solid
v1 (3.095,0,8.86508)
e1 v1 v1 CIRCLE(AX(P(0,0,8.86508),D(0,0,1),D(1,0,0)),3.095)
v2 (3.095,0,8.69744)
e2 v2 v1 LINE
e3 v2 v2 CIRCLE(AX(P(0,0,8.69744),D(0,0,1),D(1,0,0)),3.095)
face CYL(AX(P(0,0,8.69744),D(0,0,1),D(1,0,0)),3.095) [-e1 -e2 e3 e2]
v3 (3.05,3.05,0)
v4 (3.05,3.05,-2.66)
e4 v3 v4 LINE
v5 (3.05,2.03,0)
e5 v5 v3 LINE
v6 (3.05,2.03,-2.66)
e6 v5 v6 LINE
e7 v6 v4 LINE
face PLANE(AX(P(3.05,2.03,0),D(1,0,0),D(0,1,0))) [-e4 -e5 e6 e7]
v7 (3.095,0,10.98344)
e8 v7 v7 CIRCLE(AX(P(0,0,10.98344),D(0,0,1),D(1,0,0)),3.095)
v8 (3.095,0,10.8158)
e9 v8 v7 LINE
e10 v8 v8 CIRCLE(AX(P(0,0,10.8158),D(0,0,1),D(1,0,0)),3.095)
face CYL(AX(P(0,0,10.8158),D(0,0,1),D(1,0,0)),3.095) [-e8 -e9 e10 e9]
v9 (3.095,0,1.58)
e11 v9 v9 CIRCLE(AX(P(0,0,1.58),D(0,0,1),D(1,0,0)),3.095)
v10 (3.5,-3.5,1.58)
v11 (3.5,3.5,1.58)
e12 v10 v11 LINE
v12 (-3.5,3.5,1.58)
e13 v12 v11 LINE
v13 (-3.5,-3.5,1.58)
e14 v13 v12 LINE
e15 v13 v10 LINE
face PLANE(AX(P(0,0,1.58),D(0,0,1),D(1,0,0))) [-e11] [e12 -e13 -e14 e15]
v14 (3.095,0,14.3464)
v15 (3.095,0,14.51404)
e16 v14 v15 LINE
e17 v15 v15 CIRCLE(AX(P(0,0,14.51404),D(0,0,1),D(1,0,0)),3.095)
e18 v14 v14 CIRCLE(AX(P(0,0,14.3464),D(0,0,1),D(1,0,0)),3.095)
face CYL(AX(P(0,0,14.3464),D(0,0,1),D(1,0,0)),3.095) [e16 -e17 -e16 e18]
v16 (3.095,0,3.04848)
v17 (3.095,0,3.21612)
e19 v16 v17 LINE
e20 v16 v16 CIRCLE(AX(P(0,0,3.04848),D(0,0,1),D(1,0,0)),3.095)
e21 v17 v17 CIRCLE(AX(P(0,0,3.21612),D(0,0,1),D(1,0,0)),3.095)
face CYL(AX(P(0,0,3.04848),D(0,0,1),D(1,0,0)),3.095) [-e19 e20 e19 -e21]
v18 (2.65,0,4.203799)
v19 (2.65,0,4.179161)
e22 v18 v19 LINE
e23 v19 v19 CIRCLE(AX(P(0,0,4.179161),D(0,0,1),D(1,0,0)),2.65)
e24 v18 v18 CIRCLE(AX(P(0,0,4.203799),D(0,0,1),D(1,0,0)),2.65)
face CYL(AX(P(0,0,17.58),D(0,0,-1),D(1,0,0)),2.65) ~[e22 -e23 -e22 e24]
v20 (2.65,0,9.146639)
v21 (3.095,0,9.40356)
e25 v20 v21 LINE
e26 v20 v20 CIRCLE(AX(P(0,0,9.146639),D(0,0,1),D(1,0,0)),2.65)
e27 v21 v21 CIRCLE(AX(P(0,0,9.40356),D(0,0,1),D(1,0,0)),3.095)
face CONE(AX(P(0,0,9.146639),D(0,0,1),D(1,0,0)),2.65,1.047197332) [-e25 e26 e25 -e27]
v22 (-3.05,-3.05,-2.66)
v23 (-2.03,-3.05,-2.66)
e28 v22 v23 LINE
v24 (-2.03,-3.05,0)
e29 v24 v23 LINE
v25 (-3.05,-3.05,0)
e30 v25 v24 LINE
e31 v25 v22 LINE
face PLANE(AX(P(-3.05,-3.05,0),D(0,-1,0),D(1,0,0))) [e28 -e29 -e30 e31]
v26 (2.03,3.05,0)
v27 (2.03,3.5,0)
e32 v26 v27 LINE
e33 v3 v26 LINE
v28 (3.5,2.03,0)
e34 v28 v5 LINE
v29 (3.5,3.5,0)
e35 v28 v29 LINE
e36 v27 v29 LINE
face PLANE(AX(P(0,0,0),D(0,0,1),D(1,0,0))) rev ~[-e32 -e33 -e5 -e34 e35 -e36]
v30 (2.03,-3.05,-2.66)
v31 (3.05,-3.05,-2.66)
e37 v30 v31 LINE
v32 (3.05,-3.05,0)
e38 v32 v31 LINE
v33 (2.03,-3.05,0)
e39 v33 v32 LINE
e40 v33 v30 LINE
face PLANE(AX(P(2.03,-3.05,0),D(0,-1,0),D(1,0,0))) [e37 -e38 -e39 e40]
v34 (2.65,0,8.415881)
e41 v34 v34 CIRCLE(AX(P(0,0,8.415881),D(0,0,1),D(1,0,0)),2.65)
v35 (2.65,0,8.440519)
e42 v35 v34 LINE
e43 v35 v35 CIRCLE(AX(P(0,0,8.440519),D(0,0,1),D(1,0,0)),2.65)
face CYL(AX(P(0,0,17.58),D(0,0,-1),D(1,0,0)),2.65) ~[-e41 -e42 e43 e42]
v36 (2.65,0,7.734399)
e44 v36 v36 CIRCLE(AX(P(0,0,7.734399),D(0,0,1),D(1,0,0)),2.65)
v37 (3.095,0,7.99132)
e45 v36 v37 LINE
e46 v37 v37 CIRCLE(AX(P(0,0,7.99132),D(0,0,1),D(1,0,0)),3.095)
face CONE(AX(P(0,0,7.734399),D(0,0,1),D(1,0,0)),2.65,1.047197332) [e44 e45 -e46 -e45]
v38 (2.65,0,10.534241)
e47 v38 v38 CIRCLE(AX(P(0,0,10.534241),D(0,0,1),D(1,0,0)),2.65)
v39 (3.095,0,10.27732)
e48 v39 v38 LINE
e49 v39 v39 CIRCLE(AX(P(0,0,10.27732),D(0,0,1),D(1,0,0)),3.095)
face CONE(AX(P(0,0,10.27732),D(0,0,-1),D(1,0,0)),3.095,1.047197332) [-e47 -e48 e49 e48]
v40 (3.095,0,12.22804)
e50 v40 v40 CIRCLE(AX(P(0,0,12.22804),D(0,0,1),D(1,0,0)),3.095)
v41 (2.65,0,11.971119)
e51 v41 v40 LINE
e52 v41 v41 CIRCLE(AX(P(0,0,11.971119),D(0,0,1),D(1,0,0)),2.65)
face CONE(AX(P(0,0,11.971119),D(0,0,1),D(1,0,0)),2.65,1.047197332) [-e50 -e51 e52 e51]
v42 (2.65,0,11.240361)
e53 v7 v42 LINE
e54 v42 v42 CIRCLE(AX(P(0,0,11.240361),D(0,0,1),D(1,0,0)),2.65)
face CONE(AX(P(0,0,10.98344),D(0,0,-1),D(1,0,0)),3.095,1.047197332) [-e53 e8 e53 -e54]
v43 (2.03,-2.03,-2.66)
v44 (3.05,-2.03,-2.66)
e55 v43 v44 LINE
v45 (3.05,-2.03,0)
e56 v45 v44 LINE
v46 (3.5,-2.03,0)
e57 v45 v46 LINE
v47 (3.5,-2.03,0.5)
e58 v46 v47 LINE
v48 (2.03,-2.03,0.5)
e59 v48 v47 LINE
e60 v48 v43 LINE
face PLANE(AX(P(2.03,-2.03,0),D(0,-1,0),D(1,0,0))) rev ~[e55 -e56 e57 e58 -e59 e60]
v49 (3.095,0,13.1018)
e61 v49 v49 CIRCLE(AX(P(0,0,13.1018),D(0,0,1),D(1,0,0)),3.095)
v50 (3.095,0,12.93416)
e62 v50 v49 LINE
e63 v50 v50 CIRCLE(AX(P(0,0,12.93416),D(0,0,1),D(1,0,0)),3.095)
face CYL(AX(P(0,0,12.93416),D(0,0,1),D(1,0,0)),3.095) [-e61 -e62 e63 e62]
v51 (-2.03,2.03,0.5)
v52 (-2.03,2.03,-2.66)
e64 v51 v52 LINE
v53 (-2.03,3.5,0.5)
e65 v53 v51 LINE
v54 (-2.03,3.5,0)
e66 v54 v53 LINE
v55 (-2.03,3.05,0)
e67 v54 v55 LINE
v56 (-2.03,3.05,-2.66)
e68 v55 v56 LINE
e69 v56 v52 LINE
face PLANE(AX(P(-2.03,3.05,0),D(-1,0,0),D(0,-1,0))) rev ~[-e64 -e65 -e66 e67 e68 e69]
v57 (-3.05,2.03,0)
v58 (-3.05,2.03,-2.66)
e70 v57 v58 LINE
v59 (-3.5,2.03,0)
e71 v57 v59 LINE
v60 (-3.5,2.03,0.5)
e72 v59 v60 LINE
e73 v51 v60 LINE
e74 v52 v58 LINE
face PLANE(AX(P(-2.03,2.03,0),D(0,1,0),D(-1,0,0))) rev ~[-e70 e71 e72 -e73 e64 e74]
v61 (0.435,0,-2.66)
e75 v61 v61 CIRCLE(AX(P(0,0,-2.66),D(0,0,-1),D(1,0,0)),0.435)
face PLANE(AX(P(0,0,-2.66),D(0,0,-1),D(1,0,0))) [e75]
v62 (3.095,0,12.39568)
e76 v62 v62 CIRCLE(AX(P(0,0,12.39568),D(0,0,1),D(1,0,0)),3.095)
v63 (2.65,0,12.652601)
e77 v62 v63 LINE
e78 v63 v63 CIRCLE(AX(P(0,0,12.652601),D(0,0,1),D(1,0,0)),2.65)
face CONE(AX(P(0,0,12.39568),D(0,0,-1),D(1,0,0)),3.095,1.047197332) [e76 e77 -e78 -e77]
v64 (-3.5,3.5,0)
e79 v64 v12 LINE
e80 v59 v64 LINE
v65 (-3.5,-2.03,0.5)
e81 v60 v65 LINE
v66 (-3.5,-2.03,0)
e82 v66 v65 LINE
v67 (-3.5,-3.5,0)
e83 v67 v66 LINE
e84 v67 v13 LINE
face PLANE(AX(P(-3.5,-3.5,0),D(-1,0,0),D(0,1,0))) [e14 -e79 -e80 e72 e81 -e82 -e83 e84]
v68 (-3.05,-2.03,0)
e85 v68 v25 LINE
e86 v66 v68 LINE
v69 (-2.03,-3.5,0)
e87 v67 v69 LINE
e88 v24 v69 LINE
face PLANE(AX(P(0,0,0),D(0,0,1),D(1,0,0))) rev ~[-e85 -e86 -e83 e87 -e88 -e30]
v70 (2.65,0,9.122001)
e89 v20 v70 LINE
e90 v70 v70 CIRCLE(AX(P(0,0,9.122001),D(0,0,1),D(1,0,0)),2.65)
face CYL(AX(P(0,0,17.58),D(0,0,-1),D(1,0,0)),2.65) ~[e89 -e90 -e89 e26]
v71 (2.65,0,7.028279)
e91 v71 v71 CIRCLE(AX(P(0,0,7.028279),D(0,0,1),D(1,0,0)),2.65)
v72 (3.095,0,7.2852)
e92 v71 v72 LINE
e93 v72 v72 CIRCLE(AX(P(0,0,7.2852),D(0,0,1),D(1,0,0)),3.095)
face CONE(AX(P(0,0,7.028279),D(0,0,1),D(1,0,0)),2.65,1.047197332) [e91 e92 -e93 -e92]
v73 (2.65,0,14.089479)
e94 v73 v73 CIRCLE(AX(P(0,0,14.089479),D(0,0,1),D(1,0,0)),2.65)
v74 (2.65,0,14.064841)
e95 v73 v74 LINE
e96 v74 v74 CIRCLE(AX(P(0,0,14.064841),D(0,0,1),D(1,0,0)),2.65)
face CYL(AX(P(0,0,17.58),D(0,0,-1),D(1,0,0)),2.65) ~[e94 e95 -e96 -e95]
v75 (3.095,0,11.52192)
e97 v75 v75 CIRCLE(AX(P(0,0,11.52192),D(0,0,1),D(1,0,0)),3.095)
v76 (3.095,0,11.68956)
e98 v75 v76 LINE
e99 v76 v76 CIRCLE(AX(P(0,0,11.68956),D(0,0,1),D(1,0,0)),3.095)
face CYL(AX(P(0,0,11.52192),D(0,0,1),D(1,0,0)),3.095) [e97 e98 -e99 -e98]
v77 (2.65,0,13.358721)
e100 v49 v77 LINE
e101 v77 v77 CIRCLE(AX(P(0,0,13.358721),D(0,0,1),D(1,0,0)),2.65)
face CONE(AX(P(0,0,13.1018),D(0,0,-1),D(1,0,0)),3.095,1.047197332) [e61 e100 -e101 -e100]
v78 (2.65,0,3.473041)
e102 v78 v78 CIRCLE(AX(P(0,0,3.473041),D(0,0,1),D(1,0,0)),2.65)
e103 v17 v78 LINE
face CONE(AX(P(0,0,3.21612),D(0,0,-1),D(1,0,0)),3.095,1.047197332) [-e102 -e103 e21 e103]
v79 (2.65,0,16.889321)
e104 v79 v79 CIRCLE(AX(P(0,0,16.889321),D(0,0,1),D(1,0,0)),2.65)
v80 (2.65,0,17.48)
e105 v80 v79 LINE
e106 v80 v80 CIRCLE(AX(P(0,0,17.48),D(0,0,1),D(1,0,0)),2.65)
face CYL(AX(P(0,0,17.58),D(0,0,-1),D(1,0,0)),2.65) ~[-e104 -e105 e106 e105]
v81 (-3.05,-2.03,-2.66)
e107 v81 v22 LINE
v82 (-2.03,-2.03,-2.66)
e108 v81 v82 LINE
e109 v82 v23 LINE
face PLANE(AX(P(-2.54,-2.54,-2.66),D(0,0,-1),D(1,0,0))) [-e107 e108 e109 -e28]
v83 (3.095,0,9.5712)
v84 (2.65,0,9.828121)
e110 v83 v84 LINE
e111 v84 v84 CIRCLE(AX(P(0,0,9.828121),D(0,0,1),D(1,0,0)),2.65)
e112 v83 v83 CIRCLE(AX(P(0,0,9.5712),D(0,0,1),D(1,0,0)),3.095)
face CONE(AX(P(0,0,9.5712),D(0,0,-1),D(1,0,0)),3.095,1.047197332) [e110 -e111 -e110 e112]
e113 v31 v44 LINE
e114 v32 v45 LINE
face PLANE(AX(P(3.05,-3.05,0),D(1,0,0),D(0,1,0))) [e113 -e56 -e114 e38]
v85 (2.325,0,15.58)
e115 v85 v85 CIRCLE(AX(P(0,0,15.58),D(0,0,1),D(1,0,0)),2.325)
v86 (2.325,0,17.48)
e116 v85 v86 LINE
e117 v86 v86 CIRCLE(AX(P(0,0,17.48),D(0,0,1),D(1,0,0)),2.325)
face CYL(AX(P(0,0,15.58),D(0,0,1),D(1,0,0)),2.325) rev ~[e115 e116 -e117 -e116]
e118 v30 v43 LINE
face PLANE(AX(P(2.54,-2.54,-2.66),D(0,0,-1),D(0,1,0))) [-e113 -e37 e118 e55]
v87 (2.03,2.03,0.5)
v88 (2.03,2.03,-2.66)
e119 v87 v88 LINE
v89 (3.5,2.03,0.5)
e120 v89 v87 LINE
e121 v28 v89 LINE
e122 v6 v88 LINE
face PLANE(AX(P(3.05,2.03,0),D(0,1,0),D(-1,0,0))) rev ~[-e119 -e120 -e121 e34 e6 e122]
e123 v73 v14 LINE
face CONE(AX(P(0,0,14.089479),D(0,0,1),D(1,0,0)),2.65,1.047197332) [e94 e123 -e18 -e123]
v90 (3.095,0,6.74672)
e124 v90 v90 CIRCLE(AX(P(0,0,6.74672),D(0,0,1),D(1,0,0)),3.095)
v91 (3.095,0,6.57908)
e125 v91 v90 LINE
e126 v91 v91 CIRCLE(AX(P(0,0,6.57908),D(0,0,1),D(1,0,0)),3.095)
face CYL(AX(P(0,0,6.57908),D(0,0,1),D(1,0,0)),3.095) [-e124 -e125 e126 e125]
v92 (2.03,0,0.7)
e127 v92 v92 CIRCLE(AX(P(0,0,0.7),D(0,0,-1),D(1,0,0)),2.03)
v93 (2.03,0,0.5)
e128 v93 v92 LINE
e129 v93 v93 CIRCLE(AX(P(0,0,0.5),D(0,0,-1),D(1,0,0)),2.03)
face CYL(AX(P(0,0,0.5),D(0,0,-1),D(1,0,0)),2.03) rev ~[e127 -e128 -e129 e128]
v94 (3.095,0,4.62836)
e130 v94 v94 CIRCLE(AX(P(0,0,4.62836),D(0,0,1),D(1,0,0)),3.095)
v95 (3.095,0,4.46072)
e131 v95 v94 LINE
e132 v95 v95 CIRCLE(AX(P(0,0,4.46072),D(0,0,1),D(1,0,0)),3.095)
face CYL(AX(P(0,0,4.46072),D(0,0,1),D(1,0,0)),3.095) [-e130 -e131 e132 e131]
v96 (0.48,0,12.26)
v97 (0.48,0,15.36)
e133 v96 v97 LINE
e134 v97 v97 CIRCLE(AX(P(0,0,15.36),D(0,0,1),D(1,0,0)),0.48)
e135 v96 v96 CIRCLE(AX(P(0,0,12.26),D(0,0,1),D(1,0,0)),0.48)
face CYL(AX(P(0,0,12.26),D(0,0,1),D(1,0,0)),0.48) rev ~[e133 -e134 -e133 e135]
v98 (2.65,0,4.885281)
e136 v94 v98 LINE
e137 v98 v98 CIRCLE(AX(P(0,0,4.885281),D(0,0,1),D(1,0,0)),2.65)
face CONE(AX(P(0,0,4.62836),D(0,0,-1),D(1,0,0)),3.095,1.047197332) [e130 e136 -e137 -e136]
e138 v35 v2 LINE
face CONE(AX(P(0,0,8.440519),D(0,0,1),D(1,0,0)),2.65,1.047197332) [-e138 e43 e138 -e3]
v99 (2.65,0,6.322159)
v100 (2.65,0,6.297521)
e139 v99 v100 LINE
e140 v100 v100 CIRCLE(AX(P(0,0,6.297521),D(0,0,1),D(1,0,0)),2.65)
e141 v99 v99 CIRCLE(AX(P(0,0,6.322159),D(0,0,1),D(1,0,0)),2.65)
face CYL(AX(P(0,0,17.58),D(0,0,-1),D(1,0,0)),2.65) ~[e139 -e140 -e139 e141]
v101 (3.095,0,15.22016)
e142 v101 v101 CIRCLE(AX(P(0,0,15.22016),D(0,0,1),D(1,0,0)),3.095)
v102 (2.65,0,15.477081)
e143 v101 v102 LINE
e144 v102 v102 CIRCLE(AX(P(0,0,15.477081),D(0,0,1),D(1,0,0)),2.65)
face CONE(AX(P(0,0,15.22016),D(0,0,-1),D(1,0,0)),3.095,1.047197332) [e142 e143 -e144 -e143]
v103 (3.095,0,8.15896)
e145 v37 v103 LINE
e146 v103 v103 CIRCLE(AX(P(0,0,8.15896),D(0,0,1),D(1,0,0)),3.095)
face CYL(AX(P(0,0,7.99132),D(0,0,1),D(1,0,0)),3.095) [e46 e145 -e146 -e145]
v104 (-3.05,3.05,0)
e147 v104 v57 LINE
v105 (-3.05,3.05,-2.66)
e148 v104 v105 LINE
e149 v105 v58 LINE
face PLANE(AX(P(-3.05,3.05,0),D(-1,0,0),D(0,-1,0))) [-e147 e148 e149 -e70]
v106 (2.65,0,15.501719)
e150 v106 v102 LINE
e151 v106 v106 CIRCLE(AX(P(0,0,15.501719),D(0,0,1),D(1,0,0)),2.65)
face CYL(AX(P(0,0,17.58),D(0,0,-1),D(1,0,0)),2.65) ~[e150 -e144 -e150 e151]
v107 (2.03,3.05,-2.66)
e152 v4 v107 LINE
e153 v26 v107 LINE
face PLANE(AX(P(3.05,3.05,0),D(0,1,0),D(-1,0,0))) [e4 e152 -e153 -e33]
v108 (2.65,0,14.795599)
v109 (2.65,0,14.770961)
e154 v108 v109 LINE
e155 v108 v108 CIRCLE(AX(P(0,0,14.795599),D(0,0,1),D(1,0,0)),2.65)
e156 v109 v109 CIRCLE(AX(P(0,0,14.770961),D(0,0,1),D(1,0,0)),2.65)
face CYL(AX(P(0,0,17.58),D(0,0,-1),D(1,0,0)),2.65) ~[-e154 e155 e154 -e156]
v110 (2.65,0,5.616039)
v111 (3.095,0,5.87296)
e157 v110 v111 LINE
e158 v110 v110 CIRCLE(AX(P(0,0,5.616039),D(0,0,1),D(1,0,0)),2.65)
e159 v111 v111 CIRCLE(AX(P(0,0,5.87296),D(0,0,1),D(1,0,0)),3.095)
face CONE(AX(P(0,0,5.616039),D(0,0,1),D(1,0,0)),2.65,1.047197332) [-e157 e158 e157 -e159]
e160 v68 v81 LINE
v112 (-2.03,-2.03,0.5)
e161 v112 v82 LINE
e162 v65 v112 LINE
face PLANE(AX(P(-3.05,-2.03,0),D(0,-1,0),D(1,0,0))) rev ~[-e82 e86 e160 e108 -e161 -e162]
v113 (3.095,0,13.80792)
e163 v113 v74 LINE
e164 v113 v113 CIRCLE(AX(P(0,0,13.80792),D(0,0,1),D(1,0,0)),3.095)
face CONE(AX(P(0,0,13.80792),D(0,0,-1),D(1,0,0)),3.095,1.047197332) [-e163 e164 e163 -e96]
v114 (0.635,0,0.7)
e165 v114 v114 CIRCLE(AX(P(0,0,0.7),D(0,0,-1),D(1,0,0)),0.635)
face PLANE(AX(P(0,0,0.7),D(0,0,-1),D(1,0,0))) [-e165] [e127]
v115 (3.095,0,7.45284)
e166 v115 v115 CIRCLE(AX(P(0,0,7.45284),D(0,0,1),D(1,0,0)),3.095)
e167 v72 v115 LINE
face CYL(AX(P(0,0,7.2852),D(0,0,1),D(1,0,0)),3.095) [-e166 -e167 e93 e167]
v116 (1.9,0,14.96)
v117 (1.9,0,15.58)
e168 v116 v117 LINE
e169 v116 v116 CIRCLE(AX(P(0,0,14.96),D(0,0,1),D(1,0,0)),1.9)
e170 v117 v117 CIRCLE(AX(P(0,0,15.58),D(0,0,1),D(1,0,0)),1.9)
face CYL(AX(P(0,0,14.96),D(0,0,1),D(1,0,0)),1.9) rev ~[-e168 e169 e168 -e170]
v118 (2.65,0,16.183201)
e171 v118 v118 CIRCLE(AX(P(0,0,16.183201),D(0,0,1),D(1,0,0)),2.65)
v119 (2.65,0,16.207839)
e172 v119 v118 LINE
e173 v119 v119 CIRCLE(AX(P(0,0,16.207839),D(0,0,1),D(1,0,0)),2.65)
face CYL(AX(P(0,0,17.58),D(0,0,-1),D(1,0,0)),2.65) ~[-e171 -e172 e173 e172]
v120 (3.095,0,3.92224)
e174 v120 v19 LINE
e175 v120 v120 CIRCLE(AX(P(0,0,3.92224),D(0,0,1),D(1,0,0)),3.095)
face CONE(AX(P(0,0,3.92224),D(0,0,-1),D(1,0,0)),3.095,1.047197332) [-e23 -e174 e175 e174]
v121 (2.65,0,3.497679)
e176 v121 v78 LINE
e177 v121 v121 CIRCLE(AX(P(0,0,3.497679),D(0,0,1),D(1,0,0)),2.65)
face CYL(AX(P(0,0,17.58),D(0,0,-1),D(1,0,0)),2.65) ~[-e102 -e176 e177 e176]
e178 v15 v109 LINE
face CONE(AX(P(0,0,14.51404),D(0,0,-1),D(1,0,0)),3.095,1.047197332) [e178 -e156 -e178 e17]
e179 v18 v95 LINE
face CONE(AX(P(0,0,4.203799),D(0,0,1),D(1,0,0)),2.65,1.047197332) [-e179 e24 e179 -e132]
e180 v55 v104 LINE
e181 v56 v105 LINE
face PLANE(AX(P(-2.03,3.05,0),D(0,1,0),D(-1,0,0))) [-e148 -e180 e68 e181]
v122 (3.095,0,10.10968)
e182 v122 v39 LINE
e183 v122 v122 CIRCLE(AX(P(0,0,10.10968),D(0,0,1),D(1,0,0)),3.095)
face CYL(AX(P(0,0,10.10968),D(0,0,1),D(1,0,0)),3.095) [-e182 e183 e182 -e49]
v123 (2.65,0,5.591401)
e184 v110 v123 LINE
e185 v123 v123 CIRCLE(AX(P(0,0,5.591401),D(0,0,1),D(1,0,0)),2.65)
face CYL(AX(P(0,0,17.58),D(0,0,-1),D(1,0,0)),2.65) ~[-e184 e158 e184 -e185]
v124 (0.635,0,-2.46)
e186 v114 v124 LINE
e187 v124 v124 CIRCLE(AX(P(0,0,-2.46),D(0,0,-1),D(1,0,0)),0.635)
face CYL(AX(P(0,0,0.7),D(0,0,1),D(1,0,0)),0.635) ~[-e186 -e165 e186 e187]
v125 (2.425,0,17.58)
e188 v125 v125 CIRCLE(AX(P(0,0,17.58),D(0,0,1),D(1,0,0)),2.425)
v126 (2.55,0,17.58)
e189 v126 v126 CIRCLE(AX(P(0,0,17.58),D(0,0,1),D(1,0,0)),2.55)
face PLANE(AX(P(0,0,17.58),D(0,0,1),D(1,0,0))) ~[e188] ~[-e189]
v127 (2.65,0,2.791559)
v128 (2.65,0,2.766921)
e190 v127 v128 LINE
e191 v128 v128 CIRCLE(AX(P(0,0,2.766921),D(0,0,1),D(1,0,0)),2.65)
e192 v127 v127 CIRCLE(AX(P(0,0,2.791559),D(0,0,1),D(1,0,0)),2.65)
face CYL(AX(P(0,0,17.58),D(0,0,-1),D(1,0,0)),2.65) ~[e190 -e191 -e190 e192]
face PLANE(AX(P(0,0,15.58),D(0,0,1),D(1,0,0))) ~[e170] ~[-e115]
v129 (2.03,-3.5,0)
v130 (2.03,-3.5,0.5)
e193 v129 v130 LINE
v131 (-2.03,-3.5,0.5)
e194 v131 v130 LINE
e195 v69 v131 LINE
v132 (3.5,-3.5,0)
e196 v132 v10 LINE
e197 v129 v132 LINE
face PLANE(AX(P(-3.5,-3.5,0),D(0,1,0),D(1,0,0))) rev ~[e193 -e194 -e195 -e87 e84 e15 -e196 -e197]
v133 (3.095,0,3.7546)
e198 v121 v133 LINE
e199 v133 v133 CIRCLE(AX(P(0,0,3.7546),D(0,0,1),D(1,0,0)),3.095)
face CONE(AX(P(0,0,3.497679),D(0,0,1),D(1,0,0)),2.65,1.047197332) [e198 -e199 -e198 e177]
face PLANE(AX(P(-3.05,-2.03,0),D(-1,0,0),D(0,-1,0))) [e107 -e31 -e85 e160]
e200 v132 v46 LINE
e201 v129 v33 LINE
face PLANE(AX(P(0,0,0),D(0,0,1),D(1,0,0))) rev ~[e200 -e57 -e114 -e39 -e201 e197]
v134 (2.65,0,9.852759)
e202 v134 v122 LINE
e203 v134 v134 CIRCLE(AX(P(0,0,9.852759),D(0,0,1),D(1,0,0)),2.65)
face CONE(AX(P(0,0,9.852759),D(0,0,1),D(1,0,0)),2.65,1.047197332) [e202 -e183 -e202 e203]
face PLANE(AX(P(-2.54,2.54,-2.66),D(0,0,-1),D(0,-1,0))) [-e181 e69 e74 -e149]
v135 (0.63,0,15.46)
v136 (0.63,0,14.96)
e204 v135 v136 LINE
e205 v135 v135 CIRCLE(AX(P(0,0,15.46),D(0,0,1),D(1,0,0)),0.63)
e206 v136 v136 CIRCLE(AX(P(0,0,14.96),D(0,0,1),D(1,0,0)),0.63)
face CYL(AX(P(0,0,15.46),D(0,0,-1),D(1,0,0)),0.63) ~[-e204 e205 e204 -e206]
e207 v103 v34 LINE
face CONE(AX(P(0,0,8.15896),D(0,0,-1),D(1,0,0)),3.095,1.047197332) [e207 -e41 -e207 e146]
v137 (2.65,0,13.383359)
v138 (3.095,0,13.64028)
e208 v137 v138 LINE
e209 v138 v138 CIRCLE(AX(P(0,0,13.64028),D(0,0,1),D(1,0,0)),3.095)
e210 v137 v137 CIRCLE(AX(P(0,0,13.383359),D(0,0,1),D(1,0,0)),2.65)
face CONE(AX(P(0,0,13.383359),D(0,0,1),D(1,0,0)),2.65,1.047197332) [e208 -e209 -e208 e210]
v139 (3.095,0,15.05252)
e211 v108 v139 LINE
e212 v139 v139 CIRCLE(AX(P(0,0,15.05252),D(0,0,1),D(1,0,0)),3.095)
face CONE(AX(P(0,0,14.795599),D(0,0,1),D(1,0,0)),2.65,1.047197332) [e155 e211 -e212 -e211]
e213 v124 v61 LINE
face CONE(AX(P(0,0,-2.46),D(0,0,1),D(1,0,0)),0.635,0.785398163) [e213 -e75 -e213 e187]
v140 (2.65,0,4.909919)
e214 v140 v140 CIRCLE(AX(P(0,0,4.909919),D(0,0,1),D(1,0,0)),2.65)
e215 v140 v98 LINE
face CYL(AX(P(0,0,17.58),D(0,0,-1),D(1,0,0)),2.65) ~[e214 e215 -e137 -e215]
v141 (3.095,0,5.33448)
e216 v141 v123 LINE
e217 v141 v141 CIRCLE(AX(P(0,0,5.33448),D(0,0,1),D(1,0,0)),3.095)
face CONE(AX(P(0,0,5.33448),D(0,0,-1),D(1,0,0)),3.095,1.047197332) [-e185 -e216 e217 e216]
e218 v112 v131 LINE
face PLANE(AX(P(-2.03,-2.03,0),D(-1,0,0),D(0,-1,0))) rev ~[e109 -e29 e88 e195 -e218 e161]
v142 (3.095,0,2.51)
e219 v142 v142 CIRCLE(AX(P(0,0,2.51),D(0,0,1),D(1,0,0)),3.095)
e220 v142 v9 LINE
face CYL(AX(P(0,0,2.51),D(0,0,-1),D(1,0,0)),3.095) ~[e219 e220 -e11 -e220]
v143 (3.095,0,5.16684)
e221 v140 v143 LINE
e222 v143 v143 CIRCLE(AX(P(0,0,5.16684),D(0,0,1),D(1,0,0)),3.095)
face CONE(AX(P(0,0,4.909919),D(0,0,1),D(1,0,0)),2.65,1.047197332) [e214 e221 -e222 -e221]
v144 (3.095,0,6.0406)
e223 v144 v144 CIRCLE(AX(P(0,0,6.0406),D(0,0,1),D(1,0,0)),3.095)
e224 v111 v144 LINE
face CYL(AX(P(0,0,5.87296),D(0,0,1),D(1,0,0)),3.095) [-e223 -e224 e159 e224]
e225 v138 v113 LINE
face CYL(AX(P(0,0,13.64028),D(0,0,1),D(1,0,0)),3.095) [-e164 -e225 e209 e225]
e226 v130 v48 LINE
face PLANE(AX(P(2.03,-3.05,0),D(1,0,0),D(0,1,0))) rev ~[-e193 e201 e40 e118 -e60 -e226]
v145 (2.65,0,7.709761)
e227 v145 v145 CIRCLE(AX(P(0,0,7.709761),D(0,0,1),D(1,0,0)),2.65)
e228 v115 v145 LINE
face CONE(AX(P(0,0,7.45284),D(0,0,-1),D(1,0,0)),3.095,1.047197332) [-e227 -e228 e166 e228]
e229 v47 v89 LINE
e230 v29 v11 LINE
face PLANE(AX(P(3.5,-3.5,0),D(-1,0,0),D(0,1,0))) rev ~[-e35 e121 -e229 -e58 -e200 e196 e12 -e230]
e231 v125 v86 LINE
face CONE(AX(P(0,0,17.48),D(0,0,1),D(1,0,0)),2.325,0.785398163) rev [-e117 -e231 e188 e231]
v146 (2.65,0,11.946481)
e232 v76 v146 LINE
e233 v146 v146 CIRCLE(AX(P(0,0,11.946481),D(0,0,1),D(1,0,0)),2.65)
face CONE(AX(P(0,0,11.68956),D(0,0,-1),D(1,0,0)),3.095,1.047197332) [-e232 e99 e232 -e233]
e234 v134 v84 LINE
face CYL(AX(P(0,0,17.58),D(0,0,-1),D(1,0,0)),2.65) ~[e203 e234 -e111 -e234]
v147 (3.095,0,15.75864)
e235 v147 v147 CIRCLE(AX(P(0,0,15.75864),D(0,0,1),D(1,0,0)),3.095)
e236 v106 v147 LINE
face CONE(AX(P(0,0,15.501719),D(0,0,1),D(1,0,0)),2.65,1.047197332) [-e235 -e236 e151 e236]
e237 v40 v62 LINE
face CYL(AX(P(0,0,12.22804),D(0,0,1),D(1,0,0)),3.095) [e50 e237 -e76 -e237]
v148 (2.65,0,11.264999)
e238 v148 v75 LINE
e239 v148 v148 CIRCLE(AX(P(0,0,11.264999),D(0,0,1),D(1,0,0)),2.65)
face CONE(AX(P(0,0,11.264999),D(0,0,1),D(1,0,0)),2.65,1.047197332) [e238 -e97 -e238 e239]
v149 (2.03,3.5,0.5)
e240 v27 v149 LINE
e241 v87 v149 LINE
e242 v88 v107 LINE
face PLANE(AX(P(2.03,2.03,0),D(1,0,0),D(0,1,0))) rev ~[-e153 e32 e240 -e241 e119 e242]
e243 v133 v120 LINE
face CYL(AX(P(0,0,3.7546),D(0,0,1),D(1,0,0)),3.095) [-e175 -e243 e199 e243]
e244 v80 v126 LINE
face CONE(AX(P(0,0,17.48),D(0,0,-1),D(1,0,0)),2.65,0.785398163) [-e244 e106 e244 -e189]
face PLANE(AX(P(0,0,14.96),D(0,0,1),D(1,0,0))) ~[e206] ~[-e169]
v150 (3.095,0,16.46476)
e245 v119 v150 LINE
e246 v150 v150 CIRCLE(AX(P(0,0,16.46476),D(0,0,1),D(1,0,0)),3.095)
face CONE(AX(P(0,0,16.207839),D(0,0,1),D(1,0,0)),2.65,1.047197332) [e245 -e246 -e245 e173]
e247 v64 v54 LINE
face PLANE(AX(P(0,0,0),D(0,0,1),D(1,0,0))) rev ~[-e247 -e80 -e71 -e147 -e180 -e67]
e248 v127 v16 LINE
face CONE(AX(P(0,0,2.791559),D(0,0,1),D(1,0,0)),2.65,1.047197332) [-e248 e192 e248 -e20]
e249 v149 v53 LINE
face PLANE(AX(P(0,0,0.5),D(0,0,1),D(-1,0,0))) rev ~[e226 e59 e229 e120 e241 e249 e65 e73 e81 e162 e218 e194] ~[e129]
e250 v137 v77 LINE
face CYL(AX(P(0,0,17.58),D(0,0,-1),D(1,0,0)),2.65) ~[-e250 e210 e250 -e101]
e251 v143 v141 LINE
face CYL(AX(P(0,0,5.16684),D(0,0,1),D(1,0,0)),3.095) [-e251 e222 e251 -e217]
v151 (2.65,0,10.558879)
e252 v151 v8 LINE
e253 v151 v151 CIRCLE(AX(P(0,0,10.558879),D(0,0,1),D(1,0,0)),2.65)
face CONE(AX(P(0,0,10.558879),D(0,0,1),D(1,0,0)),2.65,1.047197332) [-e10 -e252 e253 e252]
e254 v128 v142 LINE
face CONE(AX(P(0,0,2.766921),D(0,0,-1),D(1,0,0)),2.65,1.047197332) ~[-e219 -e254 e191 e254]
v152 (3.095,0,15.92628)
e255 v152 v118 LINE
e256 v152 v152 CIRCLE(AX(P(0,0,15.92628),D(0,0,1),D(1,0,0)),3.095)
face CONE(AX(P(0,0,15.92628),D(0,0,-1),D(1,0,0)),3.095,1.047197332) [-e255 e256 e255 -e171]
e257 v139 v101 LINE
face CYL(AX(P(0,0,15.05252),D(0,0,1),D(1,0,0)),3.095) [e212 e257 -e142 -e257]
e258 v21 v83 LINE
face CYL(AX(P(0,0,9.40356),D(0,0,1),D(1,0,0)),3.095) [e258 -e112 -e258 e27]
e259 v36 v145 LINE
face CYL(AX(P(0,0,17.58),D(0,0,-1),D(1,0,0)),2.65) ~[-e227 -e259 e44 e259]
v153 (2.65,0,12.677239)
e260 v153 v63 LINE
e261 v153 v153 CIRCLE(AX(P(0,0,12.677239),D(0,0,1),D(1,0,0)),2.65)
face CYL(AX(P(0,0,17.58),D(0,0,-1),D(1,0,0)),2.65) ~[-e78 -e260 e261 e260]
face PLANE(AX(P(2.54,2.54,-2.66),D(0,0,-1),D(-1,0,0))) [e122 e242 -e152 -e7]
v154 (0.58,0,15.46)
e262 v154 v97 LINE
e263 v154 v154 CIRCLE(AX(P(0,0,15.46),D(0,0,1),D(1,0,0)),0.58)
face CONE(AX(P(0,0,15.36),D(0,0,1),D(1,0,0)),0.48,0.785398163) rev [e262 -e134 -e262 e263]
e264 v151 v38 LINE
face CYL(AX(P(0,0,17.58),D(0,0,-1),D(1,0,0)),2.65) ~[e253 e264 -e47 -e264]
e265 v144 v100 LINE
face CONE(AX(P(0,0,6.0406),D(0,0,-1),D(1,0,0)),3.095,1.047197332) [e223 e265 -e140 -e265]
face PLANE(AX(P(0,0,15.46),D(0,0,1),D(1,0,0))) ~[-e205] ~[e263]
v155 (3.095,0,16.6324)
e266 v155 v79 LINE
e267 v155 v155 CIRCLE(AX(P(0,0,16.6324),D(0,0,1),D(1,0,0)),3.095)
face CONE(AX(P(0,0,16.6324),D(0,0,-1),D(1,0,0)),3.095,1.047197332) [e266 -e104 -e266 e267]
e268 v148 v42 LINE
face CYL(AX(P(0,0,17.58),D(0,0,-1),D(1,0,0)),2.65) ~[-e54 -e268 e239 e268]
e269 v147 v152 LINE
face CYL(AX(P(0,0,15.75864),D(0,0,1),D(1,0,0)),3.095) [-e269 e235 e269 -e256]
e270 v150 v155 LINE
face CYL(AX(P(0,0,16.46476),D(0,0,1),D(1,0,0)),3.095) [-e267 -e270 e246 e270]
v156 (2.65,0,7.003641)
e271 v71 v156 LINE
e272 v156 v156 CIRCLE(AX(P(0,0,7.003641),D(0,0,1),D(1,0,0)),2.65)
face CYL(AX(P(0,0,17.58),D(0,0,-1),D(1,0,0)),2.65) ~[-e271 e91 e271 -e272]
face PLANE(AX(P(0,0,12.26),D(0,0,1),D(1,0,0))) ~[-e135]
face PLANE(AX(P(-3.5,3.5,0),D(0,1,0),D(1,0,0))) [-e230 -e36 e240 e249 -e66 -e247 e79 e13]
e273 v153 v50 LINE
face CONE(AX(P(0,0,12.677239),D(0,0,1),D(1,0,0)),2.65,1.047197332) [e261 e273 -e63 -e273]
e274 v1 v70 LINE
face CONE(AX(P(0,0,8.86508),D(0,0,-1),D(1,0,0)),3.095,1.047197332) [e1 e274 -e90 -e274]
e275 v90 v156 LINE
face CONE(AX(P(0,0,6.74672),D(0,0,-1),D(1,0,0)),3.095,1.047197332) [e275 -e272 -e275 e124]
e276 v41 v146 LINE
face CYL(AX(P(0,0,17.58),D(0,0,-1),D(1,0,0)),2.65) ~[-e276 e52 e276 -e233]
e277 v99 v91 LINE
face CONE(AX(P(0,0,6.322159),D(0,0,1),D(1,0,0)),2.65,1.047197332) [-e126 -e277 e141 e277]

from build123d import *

# Parameters (mm, degrees)
SKETCH_W           = 7
SKETCH_H           = 7
PAD_DEPTH          = 1.58
POCKET_DEPTH       = 0.5
SKETCH002_W        = 1.02
SKETCH002_H        = 1.02
PAD001_DEPTH       = 2.66
POLARPATTERN_COUNT = 4
SKETCH003_R        = 2.03
POCKET001_DEPTH    = 0.2
SKETCH004_R        = 0.635
PAD002_DEPTH       = 3.36
CHAMFER_SIZE       = 0.2
CHAMFER001_SIZE    = 0.1
CHAMFER002_SIZE    = 0.1


with BuildPart() as part:
    # Sketch → Pad (new body)
    with BuildSketch(Plane.XY):
        Rectangle(SKETCH_W, SKETCH_H)
    extrude(amount=PAD_DEPTH)

    # Sketch001 (on Face5 of Pad) → Pocket (cut)
    with BuildSketch(Plane(origin=(0, 0, 0), x_dir=(1, 0, 0), z_dir=(0, 0, -1))):
        Polygon((-3.5, 2.03), (-2.03, 2.03), (-2.03, 3.5), (2.03, 3.5), (2.03, 2.03), (3.5, 2.03), (3.5, -2.03), (2.03, -2.03), (2.03, -3.5), (-2.03, -3.5), (-2.03, -2.03), (-3.5, -2.03), align=None)
    extrude(amount=-POCKET_DEPTH, mode=Mode.SUBTRACT)

    # Sketch002 (on Face6 of Pocket) → Pad001 (join)
    with BuildSketch(Plane(origin=(0, 0, 0), x_dir=(1, 0, 0), z_dir=(0, 0, -1))):
        with Locations((-2.54, 2.54)):
            Rectangle(SKETCH002_W, SKETCH002_H)
    pad001 = extrude(amount=PAD001_DEPTH)

    # PolarPattern: Pad001 ×4 about axis
    polarpattern_axis = Axis((0, 0, 0), (0, 0, -1))
    for i in range(1, POLARPATTERN_COUNT):
        add(pad001.rotate(polarpattern_axis, i * 360 / POLARPATTERN_COUNT))

    # Sketch003 (on Face4 of PolarPattern) → Pocket001 (cut)
    with BuildSketch(Plane(origin=(0, 0, 0.5), x_dir=(1, 0, 0), z_dir=(0, 0, -1))):
        Circle(SKETCH003_R)
    extrude(amount=-POCKET001_DEPTH, mode=Mode.SUBTRACT)

    # Sketch004 (on Face33 of Pocket001) → Pad002 (join)
    with BuildSketch(Plane(origin=(0, 0, 0.7), x_dir=(1, 0, 0), z_dir=(0, 0, -1))):
        Circle(SKETCH004_R)
    extrude(amount=PAD002_DEPTH)

    # Chamfer
    chamfer_edges = [part.edges().sort_by_distance(p)[0] for p in [
        (-0.635, 0, -2.66),
    ]]
    chamfer(chamfer_edges, length=CHAMFER_SIZE)

    # Sketch005 → Revolution (revolve)
    with BuildSketch(Plane.XZ):
        Polygon((0, 1.58), (0, 12.26), (0.48, 12.26), (0.48, 15.46), (0.63, 15.46), (0.63, 14.96), (1.9, 14.96), (1.9, 15.58), (2.325, 15.58), (2.325, 17.58), (2.65, 17.58), (2.65, 2.766921), (3.095, 2.51), (3.095, 1.58), align=None)
    revolve(axis=Axis((0, 0, 0), (0, 0, 1)))

    # Chamfer001
    chamfer001_edges = [part.edges().sort_by_distance(p)[0] for p in [
        (-2.325, 0, 17.58),
        (-2.65, 0, 17.58),
    ]]
    chamfer(chamfer001_edges, length=CHAMFER001_SIZE)

    # Chamfer002
    chamfer002_edges = [part.edges().sort_by_distance(p)[0] for p in [
        (-0.48, 0, 15.46),
    ]]
    chamfer(chamfer002_edges, length=CHAMFER002_SIZE)

    # Sketch006 → Revolution001 (revolve)
    with BuildSketch(Plane.XZ):
        Polygon((2.65, 2.791559), (3.095, 3.04848), (3.095, 3.21612), (2.65, 3.473041), align=None)
        Polygon((2.65, 3.497679), (3.095, 3.7546), (3.095, 3.92224), (2.65, 4.179161), align=None)
        Polygon((2.65, 4.203799), (3.095, 4.46072), (3.095, 4.62836), (2.65, 4.885281), align=None)
        Polygon((2.65, 4.909919), (3.095, 5.16684), (3.095, 5.33448), (2.65, 5.591401), align=None)
        Polygon((2.65, 5.616039), (3.095, 5.87296), (3.095, 6.0406), (2.65, 6.297521), align=None)
        Polygon((2.65, 6.322159), (3.095, 6.57908), (3.095, 6.74672), (2.65, 7.003641), align=None)
        Polygon((2.65, 7.734399), (3.095, 7.99132), (3.095, 8.15896), (2.65, 8.415881), align=None)
        Polygon((2.65, 7.028279), (3.095, 7.2852), (3.095, 7.45284), (2.65, 7.709761), align=None)
        Polygon((2.65, 8.440519), (3.095, 8.69744), (3.095, 8.86508), (2.65, 9.122001), align=None)
        Polygon((2.65, 9.146639), (3.095, 9.40356), (3.095, 9.5712), (2.65, 9.828121), align=None)
        Polygon((2.65, 10.558879), (3.095, 10.8158), (3.095, 10.98344), (2.65, 11.240361), align=None)
        Polygon((2.65, 9.852759), (3.095, 10.10968), (3.095, 10.27732), (2.65, 10.534241), align=None)
        Polygon((2.65, 11.971119), (3.095, 12.22804), (3.095, 12.39568), (2.65, 12.652601), align=None)
        Polygon((2.65, 11.264999), (3.095, 11.52192), (3.095, 11.68956), (2.65, 11.946481), align=None)
        Polygon((2.65, 12.677239), (3.095, 12.93416), (3.095, 13.1018), (2.65, 13.358721), align=None)
        Polygon((2.65, 13.383359), (3.095, 13.64028), (3.095, 13.80792), (2.65, 14.064841), align=None)
        Polygon((2.65, 14.089479), (3.095, 14.3464), (3.095, 14.51404), (2.65, 14.770961), align=None)
        Polygon((2.65, 15.501719), (3.095, 15.75864), (3.095, 15.92628), (2.65, 16.183201), align=None)
        Polygon((2.65, 16.207839), (3.095, 16.46476), (3.095, 16.6324), (2.65, 16.889321), align=None)
        Polygon((2.65, 14.795599), (3.095, 15.05252), (3.095, 15.22016), (2.65, 15.477081), align=None)
    revolve(axis=Axis((0, 0, 0), (0, 0, 1)))


solid = part.part
